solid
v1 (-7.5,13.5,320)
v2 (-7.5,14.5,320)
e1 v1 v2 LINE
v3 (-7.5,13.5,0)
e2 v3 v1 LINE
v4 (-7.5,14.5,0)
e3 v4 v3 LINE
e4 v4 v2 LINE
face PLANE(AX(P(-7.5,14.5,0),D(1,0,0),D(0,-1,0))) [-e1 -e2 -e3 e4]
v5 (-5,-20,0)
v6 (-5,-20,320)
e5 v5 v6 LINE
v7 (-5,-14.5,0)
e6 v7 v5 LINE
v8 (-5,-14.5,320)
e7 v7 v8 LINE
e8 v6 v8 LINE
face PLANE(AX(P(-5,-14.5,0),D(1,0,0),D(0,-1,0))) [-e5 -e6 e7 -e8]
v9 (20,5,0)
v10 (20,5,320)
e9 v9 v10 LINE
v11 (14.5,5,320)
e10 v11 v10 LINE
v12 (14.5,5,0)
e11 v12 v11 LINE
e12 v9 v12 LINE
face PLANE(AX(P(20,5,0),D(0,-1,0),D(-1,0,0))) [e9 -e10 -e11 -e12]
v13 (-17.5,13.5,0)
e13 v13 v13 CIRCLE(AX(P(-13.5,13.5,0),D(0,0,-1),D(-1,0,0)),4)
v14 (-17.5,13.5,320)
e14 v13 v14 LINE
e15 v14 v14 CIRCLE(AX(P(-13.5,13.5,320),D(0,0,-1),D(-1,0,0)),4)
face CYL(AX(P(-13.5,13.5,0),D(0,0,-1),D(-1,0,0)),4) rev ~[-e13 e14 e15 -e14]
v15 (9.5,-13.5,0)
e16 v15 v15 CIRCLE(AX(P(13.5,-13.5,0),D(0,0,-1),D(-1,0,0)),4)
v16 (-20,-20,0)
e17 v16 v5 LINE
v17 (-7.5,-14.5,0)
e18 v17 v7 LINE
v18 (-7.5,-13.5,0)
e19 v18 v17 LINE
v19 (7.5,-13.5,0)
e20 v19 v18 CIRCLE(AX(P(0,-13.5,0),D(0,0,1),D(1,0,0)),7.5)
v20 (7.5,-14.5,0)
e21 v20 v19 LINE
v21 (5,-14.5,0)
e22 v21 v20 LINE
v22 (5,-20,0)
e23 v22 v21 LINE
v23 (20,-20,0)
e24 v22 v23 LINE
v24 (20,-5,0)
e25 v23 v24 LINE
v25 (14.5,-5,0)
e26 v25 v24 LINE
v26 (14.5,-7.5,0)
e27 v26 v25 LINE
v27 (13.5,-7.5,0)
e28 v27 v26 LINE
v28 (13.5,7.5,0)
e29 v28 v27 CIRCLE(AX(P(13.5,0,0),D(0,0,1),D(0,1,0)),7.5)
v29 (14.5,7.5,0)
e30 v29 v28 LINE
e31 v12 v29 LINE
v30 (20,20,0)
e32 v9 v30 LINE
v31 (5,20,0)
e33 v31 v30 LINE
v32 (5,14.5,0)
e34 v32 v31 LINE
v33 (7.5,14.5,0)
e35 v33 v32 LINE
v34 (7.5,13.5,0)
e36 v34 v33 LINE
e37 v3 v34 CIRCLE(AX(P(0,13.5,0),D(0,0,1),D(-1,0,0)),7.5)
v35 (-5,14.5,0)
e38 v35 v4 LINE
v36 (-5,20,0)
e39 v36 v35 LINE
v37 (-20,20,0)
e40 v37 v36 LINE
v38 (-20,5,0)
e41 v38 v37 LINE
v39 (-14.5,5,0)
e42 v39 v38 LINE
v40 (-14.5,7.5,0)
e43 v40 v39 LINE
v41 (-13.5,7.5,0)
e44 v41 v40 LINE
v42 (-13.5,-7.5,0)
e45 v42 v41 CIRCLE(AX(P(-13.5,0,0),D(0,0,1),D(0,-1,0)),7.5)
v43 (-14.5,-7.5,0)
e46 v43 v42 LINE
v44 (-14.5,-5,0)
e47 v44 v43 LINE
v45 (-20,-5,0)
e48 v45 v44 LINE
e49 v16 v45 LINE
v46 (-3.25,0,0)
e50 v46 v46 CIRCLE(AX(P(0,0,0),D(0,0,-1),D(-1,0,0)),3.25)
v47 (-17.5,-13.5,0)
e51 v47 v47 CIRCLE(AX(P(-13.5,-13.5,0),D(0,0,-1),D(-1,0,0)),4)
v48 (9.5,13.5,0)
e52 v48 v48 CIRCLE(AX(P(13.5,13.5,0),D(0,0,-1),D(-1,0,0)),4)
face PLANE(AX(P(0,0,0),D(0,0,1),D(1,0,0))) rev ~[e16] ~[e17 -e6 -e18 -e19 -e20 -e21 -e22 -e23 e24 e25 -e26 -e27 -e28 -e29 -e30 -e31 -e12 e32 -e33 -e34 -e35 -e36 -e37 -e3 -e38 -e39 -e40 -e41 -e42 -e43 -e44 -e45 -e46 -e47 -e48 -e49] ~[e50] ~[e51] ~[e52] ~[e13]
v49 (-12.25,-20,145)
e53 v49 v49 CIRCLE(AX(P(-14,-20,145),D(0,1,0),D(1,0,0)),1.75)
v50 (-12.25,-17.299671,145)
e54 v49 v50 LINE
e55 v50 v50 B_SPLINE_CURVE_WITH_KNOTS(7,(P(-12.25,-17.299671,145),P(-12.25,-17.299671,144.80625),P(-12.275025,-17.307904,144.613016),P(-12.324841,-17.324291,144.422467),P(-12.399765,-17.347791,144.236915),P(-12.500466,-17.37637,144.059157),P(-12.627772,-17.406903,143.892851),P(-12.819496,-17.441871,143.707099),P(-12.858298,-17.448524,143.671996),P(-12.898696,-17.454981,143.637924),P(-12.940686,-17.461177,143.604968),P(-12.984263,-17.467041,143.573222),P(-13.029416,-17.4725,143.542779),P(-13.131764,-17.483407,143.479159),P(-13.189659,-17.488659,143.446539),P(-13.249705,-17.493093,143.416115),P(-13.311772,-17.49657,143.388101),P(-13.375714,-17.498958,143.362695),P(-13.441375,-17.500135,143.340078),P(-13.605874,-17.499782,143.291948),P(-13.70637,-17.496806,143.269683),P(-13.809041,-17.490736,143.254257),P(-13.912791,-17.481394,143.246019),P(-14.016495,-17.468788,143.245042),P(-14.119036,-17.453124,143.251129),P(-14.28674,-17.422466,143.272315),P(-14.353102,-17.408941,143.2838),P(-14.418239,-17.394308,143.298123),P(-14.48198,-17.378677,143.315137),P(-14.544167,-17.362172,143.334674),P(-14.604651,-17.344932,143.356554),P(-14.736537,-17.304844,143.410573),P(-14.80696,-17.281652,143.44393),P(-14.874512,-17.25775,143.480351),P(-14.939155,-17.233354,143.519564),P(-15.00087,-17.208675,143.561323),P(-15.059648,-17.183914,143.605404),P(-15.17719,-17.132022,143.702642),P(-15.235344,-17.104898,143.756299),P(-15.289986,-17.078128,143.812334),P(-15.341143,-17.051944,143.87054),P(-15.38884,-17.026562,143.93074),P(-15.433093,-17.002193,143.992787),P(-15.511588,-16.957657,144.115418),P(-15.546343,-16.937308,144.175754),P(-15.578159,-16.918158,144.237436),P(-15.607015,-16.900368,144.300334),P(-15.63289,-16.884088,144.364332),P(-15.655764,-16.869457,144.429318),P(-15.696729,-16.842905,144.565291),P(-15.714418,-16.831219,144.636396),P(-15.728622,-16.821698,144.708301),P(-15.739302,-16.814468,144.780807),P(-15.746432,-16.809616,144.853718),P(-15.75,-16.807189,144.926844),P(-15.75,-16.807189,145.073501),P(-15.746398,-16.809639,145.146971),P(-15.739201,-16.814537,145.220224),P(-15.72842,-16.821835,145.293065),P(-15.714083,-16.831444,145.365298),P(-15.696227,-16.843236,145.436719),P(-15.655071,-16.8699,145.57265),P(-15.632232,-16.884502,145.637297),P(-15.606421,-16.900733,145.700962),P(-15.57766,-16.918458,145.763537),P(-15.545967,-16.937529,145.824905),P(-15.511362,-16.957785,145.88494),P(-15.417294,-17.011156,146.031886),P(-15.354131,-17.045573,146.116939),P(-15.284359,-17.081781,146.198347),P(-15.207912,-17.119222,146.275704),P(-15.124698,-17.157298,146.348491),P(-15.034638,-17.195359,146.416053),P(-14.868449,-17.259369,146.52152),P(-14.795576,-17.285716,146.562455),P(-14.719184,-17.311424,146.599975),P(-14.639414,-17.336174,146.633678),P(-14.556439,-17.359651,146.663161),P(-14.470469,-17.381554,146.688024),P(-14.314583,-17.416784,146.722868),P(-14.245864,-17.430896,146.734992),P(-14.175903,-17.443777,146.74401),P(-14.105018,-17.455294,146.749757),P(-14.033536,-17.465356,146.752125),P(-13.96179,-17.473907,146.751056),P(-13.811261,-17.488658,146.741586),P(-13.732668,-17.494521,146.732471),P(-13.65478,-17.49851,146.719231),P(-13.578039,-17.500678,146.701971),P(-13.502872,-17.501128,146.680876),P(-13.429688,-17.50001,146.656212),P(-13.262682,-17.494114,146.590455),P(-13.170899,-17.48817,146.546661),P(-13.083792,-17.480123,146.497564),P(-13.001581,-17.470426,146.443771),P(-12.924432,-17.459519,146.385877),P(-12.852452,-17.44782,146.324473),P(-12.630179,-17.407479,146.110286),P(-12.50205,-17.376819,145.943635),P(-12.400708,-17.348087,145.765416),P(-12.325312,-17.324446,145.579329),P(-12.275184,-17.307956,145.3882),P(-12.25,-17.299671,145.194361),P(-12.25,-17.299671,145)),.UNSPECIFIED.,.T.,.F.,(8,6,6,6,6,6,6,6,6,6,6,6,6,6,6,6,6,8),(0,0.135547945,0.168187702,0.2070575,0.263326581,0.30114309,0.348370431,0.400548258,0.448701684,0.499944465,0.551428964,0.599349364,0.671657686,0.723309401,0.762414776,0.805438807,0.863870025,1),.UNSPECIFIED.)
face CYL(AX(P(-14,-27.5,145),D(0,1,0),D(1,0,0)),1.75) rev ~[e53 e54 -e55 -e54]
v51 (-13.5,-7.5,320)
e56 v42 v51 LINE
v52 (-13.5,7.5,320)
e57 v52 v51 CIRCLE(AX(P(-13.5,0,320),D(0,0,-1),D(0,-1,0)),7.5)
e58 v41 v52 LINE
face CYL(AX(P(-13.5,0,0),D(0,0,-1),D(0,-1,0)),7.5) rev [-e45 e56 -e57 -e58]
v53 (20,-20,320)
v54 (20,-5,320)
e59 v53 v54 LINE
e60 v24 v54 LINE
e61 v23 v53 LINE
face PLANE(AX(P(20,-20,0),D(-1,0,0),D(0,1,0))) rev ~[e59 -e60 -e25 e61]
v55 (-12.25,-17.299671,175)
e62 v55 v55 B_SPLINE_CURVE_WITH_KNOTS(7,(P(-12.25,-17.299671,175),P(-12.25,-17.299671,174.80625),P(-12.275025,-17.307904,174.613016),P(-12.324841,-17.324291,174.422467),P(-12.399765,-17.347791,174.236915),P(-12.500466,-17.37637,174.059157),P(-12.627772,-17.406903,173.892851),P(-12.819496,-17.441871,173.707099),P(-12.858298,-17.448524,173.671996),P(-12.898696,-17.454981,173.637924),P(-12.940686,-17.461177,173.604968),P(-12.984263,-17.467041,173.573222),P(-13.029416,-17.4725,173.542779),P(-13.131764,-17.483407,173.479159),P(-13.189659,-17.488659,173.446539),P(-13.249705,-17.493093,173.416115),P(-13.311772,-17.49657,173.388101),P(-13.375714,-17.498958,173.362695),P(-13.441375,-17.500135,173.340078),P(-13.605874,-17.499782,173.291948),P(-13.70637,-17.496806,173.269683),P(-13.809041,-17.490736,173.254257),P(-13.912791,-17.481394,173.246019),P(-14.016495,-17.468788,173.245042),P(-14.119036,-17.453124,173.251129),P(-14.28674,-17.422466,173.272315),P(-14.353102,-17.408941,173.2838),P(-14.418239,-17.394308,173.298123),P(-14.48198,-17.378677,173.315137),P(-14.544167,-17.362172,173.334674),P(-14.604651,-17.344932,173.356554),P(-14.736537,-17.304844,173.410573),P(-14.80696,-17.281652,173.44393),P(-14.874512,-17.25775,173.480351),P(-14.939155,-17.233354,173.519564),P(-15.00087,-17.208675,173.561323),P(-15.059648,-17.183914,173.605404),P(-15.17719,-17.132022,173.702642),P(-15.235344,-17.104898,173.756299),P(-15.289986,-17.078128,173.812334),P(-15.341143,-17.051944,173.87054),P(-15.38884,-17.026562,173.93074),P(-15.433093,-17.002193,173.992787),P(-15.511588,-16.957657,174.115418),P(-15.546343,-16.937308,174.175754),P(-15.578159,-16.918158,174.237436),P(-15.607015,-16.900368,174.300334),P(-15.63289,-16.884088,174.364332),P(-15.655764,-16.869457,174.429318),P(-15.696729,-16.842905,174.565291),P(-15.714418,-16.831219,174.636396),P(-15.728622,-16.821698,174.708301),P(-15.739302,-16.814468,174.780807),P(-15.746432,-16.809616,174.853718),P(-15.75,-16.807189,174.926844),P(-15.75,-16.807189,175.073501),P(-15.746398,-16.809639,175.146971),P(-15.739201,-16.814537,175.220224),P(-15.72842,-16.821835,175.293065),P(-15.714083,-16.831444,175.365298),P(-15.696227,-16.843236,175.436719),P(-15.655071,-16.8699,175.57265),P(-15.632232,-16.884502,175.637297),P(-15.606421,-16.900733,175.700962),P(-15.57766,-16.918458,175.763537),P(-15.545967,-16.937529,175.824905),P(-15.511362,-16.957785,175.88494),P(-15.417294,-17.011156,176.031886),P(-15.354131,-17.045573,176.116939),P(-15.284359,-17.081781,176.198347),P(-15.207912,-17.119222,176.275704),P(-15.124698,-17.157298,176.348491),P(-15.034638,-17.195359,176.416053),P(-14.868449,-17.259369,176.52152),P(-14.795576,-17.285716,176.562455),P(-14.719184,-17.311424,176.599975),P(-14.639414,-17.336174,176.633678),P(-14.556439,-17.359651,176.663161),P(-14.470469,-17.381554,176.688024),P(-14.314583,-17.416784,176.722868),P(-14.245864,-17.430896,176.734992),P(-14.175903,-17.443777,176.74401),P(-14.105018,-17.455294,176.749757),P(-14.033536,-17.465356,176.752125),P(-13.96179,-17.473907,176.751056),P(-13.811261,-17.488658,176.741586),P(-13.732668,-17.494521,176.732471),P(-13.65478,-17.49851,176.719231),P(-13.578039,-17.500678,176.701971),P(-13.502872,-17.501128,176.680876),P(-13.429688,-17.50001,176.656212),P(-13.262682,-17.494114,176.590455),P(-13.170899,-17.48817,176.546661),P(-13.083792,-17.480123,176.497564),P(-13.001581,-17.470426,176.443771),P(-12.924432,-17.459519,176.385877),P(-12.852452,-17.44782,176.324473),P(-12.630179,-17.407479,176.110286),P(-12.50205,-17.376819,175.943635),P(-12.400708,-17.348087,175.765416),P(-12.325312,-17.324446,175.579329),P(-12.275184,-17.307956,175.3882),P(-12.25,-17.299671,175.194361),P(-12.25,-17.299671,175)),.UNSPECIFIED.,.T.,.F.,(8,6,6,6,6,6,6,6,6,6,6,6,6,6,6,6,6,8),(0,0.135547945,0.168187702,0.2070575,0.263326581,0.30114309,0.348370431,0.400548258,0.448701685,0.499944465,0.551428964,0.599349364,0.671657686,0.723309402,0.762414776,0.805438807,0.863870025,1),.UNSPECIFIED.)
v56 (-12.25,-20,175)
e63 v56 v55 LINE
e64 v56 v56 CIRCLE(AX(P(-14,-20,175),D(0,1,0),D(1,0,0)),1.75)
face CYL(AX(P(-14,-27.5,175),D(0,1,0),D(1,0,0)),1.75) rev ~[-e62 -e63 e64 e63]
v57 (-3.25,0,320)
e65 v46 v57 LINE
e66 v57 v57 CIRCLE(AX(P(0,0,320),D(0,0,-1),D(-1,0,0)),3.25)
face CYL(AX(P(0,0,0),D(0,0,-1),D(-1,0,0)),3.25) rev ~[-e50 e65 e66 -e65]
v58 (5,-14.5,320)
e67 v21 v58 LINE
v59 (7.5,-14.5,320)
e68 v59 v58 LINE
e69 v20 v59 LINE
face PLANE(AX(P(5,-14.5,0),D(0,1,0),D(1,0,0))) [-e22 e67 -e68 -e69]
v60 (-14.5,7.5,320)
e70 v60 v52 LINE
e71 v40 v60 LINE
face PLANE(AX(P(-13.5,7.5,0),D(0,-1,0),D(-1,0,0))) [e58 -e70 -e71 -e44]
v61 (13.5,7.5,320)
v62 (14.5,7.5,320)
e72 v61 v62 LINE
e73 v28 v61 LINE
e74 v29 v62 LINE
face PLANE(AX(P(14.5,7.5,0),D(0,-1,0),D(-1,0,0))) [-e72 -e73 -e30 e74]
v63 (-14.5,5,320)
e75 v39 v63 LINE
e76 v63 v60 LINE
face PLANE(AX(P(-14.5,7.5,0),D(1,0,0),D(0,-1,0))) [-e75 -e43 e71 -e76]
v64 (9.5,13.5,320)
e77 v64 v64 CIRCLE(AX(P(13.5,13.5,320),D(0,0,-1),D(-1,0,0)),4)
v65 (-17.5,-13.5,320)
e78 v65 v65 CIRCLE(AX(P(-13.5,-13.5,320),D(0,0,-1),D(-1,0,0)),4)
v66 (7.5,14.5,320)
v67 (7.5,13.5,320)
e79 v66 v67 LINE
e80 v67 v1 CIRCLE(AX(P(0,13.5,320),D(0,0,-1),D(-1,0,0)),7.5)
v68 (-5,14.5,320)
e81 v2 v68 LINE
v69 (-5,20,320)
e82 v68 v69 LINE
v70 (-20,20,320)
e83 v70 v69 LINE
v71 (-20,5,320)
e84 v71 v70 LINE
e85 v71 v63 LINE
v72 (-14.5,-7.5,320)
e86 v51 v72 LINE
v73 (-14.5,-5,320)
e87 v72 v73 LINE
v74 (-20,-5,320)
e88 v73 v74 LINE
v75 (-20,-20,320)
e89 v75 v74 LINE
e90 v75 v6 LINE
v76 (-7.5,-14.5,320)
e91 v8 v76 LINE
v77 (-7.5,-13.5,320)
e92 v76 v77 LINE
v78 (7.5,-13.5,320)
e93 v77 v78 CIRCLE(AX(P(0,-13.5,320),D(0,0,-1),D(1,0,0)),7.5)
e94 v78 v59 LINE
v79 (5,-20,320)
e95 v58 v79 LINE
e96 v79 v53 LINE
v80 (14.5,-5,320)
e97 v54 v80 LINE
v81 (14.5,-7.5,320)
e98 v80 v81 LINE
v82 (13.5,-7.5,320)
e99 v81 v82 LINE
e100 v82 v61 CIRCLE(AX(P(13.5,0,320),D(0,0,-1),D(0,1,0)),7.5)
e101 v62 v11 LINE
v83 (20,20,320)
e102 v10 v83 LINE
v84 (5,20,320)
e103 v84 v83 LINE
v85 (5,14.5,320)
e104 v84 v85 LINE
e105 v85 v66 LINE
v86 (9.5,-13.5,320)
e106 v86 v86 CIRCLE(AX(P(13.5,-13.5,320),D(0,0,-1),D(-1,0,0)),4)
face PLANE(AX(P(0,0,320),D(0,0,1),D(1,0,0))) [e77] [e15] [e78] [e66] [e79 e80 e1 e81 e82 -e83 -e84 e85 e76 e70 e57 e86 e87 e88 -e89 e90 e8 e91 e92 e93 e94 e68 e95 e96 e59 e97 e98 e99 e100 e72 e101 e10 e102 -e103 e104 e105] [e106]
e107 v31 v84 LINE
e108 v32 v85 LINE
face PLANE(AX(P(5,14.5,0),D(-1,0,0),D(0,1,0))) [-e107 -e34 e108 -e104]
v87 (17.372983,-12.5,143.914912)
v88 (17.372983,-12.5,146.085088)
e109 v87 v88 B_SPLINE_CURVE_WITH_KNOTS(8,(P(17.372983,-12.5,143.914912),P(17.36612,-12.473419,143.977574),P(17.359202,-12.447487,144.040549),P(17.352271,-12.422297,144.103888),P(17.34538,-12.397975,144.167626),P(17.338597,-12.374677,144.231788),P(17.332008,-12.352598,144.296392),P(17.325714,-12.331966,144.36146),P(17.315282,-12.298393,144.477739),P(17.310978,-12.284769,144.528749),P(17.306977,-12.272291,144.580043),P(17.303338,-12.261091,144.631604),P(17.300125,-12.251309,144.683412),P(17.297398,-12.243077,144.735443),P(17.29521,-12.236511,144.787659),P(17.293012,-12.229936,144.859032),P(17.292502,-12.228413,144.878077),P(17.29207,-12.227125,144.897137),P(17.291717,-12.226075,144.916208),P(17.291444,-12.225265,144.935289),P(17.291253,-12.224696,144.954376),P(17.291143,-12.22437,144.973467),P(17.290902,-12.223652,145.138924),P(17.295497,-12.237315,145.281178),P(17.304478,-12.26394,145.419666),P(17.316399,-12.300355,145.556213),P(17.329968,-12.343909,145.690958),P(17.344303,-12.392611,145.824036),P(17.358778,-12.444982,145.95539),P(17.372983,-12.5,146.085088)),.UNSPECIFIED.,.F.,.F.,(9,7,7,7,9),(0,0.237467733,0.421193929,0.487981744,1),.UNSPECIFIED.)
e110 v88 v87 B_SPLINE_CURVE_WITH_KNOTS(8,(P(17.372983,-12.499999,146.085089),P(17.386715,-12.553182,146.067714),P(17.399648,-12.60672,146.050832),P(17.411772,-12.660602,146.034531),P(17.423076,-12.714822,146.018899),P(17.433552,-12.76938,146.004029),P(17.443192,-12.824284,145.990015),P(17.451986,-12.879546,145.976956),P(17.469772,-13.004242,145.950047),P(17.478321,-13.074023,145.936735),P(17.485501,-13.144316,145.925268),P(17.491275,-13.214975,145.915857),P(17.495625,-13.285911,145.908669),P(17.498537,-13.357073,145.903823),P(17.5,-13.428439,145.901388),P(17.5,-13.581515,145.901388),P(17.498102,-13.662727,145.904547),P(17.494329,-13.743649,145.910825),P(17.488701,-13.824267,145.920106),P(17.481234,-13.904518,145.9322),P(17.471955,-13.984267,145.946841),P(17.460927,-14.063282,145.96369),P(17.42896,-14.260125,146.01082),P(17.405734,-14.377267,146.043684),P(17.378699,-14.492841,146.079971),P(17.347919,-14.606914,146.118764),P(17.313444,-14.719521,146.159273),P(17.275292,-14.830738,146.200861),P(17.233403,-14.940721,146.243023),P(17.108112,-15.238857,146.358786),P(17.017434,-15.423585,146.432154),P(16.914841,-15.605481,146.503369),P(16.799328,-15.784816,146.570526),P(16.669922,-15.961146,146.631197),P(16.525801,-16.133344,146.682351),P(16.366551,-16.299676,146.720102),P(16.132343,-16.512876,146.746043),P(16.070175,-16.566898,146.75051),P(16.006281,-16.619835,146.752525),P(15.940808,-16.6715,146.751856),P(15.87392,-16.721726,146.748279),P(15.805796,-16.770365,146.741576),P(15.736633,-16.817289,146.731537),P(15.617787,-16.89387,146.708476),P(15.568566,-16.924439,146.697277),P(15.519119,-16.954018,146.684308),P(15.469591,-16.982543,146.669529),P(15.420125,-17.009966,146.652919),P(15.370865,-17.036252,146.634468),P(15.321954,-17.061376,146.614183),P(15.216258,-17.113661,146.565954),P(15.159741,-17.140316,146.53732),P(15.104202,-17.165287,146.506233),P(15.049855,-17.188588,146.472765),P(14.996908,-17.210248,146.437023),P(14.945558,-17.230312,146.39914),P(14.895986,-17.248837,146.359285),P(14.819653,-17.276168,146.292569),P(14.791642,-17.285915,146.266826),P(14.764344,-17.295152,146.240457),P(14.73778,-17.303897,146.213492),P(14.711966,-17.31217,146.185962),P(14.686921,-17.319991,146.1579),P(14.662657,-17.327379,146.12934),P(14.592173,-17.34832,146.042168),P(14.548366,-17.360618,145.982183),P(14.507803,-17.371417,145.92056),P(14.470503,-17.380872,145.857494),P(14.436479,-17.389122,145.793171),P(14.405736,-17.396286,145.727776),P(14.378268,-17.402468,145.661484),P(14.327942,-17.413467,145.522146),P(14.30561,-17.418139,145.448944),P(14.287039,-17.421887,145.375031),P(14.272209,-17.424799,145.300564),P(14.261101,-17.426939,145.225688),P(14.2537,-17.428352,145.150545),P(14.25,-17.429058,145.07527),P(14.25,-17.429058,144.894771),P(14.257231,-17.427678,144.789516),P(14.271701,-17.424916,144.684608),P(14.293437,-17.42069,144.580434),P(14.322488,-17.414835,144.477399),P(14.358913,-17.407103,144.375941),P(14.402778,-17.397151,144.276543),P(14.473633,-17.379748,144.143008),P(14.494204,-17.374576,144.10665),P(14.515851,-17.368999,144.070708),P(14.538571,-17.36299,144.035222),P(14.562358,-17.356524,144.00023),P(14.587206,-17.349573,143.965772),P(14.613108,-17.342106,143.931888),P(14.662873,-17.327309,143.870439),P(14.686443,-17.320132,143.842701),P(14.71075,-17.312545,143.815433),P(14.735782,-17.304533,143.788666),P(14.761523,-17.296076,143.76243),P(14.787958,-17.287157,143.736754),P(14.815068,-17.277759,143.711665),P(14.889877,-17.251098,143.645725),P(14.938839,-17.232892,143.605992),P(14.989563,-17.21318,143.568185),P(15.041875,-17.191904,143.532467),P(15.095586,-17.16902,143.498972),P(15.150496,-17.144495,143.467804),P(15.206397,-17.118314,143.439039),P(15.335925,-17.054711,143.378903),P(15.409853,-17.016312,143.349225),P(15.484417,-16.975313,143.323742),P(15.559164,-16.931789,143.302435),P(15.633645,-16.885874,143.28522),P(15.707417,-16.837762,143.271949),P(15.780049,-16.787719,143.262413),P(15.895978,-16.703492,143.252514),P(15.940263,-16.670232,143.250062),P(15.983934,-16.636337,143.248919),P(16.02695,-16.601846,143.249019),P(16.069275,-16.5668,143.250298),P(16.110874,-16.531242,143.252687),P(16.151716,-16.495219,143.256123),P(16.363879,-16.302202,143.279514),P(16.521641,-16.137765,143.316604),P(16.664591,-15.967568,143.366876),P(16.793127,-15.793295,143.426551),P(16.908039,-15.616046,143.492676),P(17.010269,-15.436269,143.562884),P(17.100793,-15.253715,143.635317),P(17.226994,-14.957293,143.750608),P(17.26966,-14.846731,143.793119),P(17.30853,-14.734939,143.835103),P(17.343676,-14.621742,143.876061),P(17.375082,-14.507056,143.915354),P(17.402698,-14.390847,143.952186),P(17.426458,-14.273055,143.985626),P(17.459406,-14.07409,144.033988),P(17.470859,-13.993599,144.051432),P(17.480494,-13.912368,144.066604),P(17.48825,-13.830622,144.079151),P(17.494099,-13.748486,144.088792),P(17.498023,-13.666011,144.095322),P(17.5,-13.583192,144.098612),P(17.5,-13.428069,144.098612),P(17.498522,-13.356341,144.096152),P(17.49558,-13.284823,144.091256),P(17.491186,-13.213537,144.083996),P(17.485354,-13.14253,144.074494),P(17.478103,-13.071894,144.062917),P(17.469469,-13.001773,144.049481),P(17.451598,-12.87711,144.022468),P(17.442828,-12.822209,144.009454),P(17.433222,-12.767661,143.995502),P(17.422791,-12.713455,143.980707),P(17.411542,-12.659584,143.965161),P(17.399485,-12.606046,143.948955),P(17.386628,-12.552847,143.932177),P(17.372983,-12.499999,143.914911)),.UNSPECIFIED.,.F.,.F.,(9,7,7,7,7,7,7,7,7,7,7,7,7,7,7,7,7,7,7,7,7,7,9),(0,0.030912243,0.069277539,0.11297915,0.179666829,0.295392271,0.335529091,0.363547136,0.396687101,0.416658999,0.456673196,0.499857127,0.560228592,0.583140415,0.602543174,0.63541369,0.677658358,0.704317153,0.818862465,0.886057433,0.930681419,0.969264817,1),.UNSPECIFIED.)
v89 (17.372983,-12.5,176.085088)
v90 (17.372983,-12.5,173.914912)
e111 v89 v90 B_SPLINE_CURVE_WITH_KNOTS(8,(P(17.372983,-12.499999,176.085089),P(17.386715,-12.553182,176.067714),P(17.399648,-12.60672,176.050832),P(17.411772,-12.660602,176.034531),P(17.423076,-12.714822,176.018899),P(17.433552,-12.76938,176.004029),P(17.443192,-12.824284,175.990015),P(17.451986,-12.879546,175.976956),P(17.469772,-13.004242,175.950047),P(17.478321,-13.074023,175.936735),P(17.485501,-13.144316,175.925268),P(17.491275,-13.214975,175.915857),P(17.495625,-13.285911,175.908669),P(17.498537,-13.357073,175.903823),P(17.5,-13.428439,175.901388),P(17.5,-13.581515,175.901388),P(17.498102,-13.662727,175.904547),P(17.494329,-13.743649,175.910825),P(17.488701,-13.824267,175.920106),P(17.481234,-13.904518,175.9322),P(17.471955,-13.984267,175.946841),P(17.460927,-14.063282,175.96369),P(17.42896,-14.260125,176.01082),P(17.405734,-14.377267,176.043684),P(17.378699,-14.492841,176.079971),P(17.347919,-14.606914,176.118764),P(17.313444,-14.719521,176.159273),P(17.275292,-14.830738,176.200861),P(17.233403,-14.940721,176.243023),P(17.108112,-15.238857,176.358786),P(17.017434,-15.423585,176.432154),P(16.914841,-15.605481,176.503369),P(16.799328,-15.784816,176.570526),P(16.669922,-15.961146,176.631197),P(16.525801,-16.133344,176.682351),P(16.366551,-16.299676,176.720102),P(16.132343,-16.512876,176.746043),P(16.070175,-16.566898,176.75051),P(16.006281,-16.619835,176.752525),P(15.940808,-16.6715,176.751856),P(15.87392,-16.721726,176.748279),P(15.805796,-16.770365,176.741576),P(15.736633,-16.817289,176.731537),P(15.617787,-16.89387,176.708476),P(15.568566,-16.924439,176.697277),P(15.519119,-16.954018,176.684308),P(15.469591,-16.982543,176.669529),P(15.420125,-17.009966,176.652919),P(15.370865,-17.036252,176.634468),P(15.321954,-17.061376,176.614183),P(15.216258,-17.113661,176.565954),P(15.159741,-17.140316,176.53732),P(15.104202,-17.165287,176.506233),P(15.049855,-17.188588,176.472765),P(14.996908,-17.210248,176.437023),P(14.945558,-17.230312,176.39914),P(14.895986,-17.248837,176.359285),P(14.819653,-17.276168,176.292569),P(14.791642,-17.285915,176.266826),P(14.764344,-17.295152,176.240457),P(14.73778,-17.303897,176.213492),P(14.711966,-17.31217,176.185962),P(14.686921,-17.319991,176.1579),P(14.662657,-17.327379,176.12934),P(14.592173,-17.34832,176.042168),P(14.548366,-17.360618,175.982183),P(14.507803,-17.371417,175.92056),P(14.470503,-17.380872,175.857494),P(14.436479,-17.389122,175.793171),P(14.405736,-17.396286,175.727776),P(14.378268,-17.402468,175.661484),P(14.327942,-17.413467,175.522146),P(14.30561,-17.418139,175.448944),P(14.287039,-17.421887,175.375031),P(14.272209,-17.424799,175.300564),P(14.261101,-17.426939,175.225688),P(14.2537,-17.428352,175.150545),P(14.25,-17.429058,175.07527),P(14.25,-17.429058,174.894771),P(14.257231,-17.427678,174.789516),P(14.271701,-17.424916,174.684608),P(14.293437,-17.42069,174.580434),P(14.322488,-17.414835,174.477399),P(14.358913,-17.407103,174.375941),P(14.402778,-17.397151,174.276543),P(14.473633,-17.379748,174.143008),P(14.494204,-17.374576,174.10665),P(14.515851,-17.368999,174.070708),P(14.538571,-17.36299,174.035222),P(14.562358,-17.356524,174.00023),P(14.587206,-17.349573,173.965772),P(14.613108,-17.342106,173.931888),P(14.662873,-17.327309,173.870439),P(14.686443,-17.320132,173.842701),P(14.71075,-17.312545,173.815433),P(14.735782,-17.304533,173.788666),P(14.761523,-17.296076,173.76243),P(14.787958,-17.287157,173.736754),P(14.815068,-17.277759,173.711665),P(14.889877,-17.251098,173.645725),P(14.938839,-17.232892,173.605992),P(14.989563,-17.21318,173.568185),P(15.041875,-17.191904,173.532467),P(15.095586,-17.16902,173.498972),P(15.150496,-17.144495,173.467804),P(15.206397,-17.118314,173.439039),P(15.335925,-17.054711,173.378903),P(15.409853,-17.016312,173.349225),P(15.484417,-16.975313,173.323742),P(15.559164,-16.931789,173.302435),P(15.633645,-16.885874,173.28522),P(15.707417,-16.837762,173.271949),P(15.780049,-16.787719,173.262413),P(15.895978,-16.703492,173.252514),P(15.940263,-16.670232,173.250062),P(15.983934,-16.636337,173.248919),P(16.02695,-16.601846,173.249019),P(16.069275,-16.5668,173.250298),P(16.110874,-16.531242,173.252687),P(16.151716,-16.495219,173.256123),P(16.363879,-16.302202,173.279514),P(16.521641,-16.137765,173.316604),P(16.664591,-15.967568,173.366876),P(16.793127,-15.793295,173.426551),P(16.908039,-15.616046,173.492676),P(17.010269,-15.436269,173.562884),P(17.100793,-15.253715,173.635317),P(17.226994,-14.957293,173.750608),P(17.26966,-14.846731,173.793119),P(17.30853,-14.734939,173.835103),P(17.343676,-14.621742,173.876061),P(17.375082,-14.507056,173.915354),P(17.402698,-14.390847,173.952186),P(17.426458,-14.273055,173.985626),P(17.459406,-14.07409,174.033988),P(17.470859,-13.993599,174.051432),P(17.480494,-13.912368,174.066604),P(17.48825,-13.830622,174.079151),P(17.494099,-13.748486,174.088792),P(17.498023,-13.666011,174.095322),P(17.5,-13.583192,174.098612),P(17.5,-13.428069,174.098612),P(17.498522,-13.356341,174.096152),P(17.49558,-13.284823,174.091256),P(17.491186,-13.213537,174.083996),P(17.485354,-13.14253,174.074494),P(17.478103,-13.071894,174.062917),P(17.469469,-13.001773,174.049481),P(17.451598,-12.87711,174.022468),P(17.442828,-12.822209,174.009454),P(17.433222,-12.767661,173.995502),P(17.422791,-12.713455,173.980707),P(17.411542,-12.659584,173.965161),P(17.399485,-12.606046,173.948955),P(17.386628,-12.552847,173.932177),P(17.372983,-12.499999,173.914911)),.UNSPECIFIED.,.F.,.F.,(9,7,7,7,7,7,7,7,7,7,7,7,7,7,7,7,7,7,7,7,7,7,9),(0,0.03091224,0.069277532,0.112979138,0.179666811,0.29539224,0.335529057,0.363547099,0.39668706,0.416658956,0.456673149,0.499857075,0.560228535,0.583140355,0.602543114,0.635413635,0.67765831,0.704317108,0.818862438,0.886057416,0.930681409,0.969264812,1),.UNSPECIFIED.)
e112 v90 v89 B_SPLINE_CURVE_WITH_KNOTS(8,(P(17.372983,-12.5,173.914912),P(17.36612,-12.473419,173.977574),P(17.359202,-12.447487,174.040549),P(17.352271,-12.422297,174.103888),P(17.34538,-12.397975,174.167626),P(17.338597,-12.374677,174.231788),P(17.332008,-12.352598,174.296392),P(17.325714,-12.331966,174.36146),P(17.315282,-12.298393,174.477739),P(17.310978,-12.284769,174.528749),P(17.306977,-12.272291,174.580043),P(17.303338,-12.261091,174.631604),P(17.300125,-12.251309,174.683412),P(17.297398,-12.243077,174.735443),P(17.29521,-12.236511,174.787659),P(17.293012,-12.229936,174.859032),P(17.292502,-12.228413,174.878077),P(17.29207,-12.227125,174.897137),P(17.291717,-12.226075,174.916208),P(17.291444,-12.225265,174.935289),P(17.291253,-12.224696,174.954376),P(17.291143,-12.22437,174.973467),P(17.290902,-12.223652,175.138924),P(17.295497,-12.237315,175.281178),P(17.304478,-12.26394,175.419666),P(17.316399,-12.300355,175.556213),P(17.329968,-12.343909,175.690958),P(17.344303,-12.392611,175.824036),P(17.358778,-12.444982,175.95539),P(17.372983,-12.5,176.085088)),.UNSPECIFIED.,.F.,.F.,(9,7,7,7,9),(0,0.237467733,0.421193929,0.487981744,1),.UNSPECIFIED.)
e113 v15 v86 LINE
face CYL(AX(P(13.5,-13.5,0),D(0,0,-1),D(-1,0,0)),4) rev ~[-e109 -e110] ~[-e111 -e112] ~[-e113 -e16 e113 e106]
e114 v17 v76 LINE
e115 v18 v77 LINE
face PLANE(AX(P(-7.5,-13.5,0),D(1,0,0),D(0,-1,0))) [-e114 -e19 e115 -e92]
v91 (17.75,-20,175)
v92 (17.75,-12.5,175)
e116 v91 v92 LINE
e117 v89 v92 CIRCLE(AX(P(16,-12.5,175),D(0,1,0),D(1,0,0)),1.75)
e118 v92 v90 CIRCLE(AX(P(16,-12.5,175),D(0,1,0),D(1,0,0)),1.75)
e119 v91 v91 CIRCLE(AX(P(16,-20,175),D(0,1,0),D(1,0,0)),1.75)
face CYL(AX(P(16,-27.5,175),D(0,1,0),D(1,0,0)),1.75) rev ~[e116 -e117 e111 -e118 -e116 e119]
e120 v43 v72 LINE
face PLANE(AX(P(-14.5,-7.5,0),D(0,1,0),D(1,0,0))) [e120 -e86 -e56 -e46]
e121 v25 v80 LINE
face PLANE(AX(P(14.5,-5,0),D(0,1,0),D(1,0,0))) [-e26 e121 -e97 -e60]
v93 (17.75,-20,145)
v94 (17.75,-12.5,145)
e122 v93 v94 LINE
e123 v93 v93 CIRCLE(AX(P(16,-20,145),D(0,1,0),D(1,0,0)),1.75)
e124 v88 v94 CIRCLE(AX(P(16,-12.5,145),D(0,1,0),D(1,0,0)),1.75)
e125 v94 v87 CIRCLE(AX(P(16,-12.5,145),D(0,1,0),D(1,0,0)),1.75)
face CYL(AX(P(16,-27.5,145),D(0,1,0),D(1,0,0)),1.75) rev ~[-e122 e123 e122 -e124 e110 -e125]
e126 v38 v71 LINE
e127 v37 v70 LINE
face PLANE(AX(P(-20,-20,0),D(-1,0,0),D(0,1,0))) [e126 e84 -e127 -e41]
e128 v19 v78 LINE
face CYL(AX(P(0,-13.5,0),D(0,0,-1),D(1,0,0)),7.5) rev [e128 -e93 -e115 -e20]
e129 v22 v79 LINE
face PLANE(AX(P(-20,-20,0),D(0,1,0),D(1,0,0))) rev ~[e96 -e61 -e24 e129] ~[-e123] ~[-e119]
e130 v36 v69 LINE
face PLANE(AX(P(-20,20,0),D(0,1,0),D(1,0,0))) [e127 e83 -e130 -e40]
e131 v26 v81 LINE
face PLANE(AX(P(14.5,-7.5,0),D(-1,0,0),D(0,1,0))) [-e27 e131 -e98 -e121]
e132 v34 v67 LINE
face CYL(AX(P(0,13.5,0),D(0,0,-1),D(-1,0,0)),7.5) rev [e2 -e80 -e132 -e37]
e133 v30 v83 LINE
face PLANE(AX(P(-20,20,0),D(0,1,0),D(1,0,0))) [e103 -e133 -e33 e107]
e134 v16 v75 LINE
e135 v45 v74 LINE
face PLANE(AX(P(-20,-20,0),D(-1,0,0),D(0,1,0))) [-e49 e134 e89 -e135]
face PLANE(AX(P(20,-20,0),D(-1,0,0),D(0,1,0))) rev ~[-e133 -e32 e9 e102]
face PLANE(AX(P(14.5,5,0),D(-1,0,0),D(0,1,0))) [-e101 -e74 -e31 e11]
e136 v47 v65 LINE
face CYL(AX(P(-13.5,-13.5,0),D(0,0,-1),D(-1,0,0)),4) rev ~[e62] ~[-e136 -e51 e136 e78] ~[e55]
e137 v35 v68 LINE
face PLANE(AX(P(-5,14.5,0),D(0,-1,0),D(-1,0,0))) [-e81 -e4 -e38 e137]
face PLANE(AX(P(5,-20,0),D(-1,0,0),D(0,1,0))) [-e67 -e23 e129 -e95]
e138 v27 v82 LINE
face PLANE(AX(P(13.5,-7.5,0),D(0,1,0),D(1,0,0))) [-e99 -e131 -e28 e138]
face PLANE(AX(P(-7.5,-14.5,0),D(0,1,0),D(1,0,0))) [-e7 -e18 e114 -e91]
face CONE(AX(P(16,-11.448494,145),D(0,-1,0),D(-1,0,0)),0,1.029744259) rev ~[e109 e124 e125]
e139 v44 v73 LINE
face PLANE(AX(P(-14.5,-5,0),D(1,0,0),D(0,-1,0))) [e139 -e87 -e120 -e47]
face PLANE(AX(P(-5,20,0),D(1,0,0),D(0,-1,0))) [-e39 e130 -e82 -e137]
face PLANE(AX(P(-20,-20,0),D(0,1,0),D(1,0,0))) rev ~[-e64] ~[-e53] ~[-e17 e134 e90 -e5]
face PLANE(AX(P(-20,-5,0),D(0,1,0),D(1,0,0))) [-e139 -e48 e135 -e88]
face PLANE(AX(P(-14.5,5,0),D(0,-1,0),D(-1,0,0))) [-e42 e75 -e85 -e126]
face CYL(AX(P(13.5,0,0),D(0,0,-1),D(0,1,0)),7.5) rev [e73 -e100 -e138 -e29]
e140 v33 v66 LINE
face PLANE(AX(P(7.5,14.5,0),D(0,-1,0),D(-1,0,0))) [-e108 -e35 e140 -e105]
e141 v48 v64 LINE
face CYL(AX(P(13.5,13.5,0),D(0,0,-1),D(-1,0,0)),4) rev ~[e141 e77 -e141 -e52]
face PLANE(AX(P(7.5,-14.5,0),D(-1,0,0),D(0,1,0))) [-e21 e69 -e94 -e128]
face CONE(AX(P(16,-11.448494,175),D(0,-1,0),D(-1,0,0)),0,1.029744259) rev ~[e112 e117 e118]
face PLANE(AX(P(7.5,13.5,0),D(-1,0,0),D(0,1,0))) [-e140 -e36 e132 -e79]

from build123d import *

# Parameters (mm, degrees)
SKETCH_1_W                  = 40
SKETCH_1_H                  = 40
EXTRUDE_1_DEPTH             = 320
SKETCH_2_R                  = 3.25
SKETCH_2_R_2                = 4
CUT_EXTRUDE_1_DEPTH         = 321
HOLE_WIZARD_3_5_3_5_1_D     = 3.5
HOLE_WIZARD_3_5_3_5_1_DEPTH = 7.5
HOLE_WIZARD_3_5_3_5_1_TIP   = 1.051506083


with BuildPart() as part:
    # 草圖1 → 伸長1 (new body)
    with BuildSketch(Plane.XY):
        Rectangle(SKETCH_1_W, SKETCH_1_H)
    extrude(amount=EXTRUDE_1_DEPTH)

    # 草圖2 → 除料-伸長1 (cut, through all)
    with BuildSketch(Plane(origin=(0, 0, 0), x_dir=(-1, 0, 0), z_dir=(0, 0, -1))):
        Circle(SKETCH_2_R)
        with Locations((-13.5, 13.5)):
            Circle(SKETCH_2_R_2)
        with Locations((13.5, 13.5)):
            Circle(SKETCH_2_R_2)
        with Locations((-13.5, -13.5)):
            Circle(SKETCH_2_R_2)
        with Locations((13.5, -13.5)):
            Circle(SKETCH_2_R_2)
        with BuildLine():
            Line((5, 14.5), (7.5, 14.5))
            Line((7.5, 14.5), (7.5, 13.5))
            ThreePointArc((7.5, 13.5), (0, 6), (-7.5, 13.5))
            Line((-7.5, 13.5), (-7.5, 14.5))
            Line((-7.5, 14.5), (-5, 14.5))
            Line((-5, 14.5), (-5, 20))
            Line((-5, 20), (5, 20))
            Line((5, 20), (5, 14.5))
        make_face()
        with BuildLine():
            Line((14.5, -5), (14.5, -7.5))
            Line((14.5, -7.5), (13.5, -7.5))
            ThreePointArc((13.5, -7.5), (6, 0), (13.5, 7.5))
            Line((13.5, 7.5), (14.5, 7.5))
            Line((14.5, 7.5), (14.5, 5))
            Line((14.5, 5), (20, 5))
            Line((20, 5), (20, -5))
            Line((20, -5), (14.5, -5))
        make_face()
        with BuildLine():
            Line((-5, -14.5), (-7.5, -14.5))
            Line((-7.5, -14.5), (-7.5, -13.5))
            ThreePointArc((-7.5, -13.5), (0, -6), (7.5, -13.5))
            Line((7.5, -13.5), (7.5, -14.5))
            Line((7.5, -14.5), (5, -14.5))
            Line((5, -14.5), (5, -20))
            Line((5, -20), (-5, -20))
            Line((-5, -20), (-5, -14.5))
        make_face()
        with BuildLine():
            Line((-14.5, 5), (-14.5, 7.5))
            Line((-14.5, 7.5), (-13.5, 7.5))
            ThreePointArc((-13.5, 7.5), (-6, 0), (-13.5, -7.5))
            Line((-13.5, -7.5), (-14.5, -7.5))
            Line((-14.5, -7.5), (-14.5, -5))
            Line((-14.5, -5), (-20, -5))
            Line((-20, -5), (-20, 5))
            Line((-20, 5), (-14.5, 5))
        make_face()
    extrude(amount=-CUT_EXTRUDE_1_DEPTH, mode=Mode.SUBTRACT)

    # Ø3.5 (3.5) 直徑孔1
    with Locations(Plane(origin=(0, -20, 0), x_dir=(-1, 0, 0), z_dir=(0, -1, 0))):
        with Locations((-16, -145), (-16, -175), (14, -145), (14, -175)):
            Hole(HOLE_WIZARD_3_5_3_5_1_D / 2, depth=HOLE_WIZARD_3_5_3_5_1_DEPTH)
            with Locations((0, 0, -(HOLE_WIZARD_3_5_3_5_1_DEPTH + HOLE_WIZARD_3_5_3_5_1_TIP / 2))):  # 118° drill point
                Cone(0, HOLE_WIZARD_3_5_3_5_1_D / 2, HOLE_WIZARD_3_5_3_5_1_TIP, mode=Mode.SUBTRACT)


solid = part.part
